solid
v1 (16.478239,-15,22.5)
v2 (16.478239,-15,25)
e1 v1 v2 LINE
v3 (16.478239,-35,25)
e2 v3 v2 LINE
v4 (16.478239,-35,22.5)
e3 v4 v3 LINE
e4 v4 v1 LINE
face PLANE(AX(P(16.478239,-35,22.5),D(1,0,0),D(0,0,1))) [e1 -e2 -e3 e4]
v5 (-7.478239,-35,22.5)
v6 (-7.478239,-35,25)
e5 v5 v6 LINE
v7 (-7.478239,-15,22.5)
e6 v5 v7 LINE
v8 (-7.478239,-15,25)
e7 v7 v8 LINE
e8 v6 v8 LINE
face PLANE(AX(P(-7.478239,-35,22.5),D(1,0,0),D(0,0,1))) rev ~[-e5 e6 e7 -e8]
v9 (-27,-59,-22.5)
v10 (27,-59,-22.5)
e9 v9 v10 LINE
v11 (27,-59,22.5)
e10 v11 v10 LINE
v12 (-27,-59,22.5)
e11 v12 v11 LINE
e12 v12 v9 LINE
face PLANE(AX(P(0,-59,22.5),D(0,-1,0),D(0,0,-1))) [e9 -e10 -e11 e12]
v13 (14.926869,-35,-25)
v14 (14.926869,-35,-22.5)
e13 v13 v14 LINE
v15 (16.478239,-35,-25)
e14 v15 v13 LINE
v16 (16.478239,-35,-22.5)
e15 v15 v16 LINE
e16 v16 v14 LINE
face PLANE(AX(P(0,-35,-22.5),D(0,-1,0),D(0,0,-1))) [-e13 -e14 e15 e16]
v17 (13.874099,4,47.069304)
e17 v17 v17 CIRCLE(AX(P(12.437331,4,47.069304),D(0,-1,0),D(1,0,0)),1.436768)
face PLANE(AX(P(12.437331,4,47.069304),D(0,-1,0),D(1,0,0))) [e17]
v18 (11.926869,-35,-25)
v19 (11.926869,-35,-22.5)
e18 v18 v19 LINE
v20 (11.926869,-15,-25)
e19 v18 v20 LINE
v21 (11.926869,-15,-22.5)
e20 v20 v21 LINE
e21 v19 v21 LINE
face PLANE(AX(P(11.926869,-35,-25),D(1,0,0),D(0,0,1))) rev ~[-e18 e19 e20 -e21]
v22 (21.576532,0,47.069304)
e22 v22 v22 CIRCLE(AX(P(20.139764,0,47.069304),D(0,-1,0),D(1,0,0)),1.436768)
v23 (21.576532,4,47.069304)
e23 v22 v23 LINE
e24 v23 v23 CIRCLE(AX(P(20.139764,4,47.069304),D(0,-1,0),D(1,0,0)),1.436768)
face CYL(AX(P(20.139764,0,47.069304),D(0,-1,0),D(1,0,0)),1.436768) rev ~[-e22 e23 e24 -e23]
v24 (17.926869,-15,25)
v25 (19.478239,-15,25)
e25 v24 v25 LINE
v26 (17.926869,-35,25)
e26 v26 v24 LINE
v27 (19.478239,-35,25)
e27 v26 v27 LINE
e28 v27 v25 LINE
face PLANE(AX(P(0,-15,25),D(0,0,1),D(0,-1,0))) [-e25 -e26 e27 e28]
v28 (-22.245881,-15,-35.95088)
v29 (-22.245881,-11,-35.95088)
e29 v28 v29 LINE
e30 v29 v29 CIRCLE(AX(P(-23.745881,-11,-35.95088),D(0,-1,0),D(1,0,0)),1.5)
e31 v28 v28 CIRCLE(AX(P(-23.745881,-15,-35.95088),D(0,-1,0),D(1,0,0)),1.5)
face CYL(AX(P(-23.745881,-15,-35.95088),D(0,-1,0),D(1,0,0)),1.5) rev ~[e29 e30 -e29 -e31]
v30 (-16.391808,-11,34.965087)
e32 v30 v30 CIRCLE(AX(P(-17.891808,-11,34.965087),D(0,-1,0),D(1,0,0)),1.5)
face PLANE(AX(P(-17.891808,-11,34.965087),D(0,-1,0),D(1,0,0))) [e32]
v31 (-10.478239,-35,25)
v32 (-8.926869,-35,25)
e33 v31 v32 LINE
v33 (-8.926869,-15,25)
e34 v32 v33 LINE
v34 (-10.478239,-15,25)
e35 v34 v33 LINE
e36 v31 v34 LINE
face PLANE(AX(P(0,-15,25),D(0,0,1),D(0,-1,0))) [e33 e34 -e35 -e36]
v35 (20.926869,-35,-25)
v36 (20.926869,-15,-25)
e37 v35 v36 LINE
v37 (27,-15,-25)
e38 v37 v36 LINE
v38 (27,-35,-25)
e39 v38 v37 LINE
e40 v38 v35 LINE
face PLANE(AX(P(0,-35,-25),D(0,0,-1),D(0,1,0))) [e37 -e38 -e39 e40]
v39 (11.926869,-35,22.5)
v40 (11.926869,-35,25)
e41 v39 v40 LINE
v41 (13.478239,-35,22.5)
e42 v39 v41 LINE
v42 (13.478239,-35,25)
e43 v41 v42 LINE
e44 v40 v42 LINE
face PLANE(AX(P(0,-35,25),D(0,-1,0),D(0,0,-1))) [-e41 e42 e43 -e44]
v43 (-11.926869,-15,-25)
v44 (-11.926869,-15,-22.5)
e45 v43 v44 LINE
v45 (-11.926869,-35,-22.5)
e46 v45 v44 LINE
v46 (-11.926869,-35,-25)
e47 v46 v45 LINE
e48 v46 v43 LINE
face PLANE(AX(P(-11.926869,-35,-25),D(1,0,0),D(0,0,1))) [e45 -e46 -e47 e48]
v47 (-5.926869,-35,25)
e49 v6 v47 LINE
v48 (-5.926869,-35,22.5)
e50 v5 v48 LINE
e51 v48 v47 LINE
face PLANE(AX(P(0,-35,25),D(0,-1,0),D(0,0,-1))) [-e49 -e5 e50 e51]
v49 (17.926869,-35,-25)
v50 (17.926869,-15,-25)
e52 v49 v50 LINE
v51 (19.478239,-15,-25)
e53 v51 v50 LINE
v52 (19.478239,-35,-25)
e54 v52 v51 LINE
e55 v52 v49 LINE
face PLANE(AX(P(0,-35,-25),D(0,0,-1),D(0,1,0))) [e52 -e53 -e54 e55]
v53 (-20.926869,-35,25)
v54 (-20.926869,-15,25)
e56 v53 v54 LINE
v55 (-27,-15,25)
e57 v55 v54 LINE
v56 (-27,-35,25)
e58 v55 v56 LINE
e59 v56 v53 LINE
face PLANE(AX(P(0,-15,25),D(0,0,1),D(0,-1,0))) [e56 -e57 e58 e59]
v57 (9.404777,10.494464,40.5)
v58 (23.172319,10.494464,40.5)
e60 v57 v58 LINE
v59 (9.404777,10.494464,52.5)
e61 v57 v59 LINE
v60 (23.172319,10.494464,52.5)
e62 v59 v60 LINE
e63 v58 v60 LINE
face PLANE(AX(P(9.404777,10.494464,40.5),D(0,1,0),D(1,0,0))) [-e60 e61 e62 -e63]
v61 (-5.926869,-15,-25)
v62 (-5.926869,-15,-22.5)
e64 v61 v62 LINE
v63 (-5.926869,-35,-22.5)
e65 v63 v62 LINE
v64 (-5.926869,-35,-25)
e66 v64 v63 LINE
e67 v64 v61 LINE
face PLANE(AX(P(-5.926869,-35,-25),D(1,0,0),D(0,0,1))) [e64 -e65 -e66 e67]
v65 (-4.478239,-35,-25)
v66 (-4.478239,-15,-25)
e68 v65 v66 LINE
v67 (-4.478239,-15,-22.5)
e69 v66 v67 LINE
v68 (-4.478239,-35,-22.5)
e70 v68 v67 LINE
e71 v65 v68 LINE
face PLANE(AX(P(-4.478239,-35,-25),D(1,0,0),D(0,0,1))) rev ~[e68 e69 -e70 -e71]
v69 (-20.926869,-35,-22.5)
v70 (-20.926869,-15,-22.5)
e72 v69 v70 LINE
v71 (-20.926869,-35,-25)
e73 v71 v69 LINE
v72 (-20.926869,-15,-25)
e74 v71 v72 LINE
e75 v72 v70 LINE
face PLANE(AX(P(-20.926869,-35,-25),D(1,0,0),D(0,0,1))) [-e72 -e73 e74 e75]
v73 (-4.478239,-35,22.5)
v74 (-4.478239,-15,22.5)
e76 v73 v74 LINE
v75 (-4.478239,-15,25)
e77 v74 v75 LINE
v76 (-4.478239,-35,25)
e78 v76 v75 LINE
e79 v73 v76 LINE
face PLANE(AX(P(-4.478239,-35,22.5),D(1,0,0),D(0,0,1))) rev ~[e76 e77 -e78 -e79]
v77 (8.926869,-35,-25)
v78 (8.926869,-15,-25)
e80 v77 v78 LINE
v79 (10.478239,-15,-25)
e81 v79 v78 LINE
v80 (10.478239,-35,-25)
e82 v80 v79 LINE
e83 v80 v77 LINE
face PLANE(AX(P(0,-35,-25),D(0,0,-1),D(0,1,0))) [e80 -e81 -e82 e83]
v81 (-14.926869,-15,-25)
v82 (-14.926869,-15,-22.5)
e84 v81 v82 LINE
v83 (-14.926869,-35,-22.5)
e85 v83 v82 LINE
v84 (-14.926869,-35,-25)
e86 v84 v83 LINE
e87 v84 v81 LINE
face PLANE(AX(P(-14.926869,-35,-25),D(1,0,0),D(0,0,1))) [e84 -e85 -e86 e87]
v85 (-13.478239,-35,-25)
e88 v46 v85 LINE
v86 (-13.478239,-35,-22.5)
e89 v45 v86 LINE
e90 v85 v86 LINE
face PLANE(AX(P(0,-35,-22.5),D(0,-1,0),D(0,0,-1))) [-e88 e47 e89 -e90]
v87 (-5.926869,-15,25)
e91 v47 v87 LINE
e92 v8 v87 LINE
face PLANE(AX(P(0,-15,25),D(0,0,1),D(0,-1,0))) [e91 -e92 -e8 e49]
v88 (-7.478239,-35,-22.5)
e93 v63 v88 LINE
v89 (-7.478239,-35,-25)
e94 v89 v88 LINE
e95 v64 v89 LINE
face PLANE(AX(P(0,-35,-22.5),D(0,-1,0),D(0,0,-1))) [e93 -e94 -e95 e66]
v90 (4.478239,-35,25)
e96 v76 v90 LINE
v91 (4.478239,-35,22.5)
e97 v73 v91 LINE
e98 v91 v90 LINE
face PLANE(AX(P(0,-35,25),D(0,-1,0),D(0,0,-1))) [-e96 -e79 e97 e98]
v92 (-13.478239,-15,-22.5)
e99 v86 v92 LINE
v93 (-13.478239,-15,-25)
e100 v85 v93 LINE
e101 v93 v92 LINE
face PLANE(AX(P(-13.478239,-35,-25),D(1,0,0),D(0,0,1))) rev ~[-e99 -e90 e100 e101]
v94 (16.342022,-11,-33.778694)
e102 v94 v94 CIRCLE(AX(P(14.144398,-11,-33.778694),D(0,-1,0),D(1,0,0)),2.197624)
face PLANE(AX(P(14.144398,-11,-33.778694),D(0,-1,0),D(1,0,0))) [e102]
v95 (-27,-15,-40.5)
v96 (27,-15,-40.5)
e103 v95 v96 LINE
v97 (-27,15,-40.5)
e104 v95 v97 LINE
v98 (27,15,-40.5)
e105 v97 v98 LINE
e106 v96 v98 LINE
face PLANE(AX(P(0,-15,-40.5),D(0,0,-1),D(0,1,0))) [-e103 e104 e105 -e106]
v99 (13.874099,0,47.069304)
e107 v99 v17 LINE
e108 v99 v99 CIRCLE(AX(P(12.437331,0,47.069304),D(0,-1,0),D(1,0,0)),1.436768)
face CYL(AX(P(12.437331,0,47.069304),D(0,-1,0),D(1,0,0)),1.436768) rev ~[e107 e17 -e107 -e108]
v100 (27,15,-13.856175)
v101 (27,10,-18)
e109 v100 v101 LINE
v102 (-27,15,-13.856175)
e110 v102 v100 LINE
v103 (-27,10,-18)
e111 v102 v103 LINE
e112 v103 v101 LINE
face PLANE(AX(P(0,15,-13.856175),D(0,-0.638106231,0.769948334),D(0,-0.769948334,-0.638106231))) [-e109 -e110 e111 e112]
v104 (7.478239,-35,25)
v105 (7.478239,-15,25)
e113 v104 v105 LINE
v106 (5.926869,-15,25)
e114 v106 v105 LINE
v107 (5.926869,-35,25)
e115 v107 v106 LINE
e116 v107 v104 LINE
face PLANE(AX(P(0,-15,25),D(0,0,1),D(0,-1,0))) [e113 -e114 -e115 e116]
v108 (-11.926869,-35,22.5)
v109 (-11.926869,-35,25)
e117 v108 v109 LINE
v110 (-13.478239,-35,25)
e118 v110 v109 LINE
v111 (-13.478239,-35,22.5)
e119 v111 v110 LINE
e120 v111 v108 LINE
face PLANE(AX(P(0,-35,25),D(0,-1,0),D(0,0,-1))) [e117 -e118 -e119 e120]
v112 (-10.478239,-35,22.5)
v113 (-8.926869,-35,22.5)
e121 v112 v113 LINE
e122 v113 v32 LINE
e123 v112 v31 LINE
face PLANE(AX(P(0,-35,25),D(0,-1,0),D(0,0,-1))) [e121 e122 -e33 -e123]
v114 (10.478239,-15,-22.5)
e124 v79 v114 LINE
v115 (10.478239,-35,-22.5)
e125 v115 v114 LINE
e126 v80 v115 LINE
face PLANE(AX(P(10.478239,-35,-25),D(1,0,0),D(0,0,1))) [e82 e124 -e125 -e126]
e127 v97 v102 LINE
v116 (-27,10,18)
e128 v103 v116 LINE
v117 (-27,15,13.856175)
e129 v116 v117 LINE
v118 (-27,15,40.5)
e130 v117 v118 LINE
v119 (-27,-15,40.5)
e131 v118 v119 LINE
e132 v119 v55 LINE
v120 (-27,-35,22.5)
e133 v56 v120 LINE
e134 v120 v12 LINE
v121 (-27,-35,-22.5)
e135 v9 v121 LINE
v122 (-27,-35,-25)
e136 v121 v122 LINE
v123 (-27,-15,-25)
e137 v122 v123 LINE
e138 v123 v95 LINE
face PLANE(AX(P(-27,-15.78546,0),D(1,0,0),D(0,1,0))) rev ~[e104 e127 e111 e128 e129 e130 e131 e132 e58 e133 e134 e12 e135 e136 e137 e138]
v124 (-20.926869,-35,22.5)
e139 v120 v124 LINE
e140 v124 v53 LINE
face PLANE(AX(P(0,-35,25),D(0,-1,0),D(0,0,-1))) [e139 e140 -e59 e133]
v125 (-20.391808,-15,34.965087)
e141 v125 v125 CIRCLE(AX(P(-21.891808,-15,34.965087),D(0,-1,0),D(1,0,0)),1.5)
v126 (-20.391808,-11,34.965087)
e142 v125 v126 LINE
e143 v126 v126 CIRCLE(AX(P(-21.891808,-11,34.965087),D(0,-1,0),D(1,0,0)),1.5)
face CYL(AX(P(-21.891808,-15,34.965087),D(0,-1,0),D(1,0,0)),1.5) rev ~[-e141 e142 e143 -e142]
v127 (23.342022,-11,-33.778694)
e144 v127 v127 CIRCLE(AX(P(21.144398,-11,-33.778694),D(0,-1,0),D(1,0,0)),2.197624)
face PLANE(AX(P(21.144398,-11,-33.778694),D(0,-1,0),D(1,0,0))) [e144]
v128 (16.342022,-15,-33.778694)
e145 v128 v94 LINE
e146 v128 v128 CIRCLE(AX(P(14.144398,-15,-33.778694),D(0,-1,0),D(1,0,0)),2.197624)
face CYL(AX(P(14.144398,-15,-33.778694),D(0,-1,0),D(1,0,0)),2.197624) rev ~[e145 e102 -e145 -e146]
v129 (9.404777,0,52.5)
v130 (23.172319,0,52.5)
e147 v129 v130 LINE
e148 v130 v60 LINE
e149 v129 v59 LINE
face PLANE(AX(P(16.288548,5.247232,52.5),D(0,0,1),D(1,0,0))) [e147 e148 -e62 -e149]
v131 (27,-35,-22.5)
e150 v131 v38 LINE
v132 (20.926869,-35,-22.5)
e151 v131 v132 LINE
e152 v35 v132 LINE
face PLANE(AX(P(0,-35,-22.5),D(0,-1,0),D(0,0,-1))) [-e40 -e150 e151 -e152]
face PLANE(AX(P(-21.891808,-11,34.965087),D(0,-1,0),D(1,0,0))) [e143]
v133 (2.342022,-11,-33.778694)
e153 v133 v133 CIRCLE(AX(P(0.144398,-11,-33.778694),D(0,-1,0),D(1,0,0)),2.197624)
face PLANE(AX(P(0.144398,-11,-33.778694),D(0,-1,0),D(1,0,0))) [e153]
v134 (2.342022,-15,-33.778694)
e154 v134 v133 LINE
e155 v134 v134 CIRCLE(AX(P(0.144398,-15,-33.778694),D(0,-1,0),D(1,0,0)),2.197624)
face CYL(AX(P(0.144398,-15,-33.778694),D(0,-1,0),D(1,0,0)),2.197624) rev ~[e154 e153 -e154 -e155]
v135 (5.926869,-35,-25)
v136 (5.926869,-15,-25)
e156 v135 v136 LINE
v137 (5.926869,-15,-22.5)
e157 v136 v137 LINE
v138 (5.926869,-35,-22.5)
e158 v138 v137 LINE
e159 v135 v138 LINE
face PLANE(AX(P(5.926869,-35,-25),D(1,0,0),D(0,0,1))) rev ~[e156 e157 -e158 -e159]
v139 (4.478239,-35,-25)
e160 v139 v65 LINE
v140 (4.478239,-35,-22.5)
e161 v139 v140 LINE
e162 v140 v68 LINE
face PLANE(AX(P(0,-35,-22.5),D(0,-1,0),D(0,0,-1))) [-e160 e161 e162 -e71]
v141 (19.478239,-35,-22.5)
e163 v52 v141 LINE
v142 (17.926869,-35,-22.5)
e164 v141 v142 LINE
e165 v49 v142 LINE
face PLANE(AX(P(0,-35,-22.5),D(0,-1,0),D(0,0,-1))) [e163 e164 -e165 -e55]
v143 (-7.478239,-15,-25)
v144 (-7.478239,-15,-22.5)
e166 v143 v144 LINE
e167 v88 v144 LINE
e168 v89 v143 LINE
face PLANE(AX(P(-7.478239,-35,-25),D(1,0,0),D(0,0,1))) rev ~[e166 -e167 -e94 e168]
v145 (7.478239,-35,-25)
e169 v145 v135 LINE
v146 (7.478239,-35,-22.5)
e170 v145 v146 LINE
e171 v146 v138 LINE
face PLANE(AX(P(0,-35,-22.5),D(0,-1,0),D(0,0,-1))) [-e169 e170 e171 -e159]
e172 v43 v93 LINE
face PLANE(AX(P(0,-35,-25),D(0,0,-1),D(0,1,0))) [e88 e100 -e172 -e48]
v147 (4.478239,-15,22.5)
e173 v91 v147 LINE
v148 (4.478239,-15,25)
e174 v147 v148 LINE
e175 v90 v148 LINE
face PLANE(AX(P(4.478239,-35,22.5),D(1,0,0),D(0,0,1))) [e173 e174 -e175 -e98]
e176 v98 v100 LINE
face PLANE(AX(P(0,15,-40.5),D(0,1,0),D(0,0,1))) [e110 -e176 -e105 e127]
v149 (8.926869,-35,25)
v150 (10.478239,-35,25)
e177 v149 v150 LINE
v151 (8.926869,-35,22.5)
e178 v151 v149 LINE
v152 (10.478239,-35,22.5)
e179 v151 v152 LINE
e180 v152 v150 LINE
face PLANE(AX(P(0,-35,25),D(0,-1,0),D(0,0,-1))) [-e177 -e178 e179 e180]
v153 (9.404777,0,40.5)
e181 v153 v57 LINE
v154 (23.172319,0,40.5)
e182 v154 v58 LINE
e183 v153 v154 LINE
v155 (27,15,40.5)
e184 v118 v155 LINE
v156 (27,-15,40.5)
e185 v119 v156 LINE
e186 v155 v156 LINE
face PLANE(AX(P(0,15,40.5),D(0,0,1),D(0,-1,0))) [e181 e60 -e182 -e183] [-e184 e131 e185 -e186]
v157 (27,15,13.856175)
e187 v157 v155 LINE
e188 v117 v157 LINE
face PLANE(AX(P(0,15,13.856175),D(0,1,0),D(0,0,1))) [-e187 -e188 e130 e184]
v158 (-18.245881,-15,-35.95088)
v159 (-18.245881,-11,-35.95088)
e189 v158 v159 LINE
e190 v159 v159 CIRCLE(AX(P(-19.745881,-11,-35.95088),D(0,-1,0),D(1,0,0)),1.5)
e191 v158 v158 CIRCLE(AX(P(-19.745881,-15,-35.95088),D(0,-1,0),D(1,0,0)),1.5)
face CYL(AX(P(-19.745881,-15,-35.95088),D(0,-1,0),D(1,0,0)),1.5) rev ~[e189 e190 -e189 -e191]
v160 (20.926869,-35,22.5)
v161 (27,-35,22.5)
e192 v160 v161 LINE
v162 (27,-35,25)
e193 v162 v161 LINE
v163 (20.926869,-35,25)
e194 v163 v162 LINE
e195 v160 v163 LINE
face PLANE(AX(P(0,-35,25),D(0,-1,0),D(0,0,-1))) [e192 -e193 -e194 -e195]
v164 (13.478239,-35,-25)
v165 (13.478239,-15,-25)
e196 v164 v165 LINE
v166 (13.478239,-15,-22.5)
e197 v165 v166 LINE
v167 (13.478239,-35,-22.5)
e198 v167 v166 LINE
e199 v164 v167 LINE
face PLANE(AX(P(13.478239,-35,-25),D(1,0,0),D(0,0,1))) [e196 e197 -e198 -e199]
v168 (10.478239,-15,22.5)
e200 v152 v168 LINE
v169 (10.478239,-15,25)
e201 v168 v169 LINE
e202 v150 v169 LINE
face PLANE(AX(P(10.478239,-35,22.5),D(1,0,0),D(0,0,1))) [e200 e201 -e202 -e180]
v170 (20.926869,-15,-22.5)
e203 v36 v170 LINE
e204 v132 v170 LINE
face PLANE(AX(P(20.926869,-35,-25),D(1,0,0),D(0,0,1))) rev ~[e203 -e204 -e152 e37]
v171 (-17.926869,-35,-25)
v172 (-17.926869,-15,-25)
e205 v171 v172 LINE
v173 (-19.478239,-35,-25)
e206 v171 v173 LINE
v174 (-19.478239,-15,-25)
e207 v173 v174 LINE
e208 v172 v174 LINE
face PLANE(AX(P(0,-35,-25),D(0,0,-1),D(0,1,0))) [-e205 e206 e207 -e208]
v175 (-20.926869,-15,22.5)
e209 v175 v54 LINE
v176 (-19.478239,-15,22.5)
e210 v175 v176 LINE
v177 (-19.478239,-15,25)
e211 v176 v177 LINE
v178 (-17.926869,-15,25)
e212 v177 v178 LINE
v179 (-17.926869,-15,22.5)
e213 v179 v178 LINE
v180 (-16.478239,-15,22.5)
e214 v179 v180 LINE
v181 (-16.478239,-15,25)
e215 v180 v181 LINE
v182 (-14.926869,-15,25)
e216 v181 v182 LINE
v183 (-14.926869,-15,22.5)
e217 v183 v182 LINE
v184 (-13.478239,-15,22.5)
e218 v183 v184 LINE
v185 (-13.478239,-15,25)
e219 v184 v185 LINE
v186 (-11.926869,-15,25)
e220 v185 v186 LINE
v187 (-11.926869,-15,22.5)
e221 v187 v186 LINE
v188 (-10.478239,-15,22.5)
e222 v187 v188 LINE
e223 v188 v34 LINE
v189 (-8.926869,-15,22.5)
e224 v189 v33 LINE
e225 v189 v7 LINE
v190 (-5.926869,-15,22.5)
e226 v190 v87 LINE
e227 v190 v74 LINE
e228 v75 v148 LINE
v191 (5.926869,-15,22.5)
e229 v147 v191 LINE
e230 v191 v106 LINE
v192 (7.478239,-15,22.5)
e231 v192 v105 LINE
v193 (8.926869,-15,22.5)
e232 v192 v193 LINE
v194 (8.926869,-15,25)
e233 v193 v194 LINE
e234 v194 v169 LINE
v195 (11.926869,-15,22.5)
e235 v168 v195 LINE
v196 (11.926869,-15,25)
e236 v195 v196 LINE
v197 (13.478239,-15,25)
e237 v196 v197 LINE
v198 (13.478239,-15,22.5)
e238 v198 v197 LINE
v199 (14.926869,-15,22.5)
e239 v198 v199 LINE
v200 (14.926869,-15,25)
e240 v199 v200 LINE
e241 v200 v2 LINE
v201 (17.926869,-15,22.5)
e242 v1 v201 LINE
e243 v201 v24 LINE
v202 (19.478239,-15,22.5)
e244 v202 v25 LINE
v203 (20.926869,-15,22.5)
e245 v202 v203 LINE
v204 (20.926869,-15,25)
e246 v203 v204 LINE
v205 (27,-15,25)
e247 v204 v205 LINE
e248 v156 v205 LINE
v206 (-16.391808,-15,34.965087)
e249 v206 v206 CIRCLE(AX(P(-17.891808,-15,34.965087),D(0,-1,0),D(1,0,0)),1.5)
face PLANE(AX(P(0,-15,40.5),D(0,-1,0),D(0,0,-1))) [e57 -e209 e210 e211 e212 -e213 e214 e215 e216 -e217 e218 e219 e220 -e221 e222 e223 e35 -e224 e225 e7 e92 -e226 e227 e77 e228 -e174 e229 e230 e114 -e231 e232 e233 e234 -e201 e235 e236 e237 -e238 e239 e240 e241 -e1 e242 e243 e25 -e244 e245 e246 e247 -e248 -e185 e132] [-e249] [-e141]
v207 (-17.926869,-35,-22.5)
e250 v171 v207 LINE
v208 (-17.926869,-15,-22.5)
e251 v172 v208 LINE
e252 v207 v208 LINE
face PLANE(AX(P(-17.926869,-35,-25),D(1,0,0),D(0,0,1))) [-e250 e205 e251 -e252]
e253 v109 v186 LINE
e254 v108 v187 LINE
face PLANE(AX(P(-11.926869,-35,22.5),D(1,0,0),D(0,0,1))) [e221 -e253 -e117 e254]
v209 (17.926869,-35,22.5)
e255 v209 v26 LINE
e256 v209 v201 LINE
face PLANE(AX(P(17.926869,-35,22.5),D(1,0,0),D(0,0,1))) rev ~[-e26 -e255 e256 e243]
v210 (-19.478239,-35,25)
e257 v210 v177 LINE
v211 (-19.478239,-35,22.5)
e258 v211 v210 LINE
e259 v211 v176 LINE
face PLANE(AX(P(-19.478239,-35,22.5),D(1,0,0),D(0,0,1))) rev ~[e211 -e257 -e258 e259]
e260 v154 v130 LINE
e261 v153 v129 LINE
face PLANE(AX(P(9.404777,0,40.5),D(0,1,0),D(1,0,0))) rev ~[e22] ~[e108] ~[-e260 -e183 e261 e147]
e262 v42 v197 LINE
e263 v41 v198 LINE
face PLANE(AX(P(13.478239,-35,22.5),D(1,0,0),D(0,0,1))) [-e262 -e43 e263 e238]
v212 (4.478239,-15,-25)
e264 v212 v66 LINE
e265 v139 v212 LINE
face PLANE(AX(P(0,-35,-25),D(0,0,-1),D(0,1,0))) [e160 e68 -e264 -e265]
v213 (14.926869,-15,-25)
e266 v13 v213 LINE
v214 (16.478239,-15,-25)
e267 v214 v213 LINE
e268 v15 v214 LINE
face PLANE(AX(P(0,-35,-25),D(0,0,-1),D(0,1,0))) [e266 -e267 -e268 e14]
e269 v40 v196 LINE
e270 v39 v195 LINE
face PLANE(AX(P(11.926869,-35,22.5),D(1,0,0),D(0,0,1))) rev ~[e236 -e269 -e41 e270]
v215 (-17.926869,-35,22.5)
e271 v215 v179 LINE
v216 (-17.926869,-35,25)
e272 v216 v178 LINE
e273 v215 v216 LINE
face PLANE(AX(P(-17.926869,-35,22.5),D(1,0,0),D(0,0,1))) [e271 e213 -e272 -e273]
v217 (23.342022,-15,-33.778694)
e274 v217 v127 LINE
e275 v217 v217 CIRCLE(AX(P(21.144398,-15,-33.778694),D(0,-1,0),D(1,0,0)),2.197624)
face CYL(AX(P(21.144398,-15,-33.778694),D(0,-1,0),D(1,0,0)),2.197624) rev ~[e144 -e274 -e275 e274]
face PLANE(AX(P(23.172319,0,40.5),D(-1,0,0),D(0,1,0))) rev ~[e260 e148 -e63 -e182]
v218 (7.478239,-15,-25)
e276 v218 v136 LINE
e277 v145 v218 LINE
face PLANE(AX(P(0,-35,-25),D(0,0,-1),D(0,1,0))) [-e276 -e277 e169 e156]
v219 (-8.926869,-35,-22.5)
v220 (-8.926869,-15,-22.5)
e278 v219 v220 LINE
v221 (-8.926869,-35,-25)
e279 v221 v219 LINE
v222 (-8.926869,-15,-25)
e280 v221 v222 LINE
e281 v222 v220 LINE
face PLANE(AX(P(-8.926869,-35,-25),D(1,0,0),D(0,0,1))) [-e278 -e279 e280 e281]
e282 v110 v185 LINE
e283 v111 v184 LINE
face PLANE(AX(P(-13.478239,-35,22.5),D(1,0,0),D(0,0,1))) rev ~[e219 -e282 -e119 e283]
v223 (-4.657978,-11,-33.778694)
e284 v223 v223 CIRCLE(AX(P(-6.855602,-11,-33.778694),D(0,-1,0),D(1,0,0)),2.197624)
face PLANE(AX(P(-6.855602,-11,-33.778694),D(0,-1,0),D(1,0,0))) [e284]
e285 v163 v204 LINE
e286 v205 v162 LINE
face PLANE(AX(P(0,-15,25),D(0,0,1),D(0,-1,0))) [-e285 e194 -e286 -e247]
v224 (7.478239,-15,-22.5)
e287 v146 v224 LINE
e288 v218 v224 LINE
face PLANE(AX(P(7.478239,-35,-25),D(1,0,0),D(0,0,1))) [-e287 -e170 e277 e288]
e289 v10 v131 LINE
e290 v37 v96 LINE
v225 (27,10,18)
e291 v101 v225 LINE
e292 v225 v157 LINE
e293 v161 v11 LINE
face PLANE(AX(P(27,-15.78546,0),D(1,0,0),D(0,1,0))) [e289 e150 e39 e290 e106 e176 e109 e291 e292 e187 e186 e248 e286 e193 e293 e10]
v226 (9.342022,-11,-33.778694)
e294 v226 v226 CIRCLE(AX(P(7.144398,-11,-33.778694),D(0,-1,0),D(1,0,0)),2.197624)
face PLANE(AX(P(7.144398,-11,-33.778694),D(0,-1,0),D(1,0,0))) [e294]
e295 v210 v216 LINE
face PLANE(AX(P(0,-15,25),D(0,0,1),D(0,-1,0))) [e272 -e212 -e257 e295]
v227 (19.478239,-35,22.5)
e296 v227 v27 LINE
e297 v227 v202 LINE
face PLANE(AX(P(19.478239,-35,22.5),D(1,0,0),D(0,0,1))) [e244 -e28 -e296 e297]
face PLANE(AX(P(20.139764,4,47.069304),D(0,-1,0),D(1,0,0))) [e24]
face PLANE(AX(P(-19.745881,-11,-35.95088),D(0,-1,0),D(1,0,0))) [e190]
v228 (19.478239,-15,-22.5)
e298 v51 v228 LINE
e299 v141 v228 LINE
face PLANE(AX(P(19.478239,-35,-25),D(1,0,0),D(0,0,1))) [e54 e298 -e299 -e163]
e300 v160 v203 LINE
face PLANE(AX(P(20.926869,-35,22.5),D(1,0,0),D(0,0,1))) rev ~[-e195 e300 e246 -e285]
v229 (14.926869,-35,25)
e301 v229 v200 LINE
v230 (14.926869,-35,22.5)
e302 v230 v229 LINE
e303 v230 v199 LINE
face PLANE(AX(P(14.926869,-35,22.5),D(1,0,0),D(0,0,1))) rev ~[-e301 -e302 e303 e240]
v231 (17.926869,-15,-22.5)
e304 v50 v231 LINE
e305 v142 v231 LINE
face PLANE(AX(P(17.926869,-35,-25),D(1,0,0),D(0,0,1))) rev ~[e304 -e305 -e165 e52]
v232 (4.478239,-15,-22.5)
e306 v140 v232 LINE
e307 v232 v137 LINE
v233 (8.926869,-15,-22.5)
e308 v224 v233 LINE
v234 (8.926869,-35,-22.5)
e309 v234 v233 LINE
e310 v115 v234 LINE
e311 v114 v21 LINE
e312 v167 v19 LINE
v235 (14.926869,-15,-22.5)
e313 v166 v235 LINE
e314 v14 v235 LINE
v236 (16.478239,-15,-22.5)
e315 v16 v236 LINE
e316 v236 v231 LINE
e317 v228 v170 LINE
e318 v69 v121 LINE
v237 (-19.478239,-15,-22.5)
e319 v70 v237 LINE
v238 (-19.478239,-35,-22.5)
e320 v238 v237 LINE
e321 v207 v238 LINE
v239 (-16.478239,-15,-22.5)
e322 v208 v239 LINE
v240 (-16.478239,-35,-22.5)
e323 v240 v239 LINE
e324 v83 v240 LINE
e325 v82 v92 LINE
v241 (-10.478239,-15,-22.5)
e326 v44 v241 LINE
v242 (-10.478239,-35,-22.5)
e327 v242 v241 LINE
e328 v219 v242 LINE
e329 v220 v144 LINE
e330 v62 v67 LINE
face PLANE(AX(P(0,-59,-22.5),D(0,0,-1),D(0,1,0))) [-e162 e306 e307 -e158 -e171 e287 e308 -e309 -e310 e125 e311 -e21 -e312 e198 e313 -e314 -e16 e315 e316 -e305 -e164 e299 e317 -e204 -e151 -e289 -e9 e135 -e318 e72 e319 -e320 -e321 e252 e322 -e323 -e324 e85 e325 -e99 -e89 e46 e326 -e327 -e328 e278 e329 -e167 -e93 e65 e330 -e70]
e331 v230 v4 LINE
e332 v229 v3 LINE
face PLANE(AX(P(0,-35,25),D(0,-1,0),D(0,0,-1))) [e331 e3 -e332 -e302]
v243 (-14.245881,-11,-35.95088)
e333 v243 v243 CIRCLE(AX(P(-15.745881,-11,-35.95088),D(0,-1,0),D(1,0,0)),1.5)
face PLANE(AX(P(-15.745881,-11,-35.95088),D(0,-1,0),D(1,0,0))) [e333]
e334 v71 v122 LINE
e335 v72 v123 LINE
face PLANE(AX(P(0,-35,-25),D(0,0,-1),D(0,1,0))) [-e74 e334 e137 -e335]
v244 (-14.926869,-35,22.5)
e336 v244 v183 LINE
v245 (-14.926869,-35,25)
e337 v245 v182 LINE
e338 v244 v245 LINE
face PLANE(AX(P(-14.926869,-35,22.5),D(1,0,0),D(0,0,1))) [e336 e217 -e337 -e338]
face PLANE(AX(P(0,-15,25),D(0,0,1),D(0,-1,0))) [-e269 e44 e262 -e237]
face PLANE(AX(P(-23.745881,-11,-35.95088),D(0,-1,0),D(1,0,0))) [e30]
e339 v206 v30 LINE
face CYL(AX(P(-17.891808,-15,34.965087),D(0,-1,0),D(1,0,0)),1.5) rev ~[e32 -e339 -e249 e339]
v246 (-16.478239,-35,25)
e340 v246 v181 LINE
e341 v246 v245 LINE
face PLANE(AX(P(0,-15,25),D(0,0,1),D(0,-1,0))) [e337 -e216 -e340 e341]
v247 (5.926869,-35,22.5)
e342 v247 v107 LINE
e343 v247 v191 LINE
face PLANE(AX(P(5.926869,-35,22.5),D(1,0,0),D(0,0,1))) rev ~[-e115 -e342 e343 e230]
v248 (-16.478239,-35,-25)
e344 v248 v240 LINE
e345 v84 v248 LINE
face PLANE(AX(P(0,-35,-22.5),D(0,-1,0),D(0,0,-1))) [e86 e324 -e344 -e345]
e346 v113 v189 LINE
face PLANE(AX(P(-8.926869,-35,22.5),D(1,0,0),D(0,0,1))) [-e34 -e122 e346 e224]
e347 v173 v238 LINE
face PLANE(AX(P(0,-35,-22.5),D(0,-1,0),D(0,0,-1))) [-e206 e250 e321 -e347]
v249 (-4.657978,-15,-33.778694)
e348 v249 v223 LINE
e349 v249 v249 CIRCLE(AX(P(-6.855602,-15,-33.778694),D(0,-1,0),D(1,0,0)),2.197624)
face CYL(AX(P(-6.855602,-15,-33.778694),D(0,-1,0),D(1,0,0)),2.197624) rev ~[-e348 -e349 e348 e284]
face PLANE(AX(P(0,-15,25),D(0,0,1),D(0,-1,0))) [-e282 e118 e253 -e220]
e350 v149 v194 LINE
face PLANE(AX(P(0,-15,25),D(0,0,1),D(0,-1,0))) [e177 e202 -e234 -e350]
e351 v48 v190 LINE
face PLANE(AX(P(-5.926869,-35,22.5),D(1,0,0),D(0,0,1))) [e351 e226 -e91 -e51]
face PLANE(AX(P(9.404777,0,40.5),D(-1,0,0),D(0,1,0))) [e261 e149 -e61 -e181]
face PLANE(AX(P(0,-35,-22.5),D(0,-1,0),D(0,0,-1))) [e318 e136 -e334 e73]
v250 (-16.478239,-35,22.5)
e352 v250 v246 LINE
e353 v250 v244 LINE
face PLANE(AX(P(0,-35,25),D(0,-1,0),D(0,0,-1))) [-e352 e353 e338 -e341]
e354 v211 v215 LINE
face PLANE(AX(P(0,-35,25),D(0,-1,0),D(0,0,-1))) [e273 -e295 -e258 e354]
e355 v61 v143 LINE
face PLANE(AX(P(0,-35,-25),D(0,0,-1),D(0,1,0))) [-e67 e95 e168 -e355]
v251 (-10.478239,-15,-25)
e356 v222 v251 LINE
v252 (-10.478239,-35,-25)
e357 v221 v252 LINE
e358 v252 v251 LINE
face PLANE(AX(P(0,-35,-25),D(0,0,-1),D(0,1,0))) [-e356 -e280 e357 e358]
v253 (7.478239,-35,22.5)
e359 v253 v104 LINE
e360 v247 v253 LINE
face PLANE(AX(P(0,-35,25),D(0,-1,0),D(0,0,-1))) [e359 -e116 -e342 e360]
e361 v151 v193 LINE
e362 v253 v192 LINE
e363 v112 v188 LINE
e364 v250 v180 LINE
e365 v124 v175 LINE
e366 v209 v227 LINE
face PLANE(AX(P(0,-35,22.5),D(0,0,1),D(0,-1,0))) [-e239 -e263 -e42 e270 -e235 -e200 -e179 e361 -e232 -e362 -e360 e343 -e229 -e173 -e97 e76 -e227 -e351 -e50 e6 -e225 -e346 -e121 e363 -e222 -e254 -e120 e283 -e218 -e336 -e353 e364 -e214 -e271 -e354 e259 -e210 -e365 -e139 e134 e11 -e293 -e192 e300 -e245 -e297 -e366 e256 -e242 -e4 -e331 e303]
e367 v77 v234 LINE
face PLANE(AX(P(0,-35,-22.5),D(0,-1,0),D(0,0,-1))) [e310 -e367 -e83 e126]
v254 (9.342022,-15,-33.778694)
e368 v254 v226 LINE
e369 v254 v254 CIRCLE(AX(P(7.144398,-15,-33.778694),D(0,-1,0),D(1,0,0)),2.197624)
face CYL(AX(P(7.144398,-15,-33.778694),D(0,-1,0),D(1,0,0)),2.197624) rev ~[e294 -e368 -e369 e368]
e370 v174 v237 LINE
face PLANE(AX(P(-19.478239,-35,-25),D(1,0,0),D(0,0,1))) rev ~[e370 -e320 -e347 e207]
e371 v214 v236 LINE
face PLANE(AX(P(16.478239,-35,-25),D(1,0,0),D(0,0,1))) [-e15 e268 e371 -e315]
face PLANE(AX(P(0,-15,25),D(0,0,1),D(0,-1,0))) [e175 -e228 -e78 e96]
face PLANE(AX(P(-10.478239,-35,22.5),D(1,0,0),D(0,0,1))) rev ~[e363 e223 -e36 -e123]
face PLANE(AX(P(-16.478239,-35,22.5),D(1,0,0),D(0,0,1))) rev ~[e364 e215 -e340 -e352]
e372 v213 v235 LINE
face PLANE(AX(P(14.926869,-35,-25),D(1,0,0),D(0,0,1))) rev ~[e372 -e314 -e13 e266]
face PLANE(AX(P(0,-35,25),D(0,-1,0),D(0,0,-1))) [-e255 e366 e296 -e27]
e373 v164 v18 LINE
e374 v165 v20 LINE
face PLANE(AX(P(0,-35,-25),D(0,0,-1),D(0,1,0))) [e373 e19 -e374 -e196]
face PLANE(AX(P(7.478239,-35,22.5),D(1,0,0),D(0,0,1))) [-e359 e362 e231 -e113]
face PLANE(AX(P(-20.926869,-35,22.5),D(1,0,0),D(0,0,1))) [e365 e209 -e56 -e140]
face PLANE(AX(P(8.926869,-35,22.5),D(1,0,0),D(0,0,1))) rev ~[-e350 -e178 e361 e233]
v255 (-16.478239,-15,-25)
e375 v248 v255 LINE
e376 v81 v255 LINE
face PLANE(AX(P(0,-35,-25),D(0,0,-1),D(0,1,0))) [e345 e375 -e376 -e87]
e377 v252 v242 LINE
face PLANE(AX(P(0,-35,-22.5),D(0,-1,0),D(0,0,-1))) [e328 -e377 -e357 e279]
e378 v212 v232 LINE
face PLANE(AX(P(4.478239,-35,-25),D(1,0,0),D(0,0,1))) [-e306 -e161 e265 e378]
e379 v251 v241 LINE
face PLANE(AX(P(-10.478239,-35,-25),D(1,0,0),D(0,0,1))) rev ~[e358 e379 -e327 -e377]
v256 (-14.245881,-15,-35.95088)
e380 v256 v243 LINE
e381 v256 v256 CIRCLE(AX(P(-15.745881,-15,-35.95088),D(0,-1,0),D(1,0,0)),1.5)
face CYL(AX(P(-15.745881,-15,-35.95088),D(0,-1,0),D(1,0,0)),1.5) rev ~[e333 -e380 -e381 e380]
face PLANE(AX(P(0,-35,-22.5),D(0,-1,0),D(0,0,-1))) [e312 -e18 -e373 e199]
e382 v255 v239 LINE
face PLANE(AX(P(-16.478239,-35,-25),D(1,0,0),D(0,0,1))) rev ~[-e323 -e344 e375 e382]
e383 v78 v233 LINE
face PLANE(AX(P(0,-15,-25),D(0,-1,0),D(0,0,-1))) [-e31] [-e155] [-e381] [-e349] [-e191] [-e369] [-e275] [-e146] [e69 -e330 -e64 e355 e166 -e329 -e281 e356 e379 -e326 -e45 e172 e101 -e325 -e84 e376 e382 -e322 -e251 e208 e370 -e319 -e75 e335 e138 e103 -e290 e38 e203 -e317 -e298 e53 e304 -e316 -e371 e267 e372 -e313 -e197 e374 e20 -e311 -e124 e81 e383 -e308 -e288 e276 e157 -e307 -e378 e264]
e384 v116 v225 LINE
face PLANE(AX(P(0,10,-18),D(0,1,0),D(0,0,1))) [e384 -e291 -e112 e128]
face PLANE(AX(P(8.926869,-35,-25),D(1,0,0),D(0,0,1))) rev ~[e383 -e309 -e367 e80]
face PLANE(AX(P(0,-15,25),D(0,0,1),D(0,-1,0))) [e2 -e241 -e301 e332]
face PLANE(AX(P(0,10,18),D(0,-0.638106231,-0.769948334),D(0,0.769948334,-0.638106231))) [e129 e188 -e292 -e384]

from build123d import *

# Parameters (mm, degrees)
F1_DEPTH = 27
F4_W     = 13.767542
F4_H     = 10.494464
F5_DEPTH = 12
F2_R     = 1.5
F2_R_2   = 2.197624
F6_R     = 1.436768
F3_R     = 1.5
F7_DEPTH = 4
F8_W     = 1.44863
F8_H     = 2.5
F9_DEPTH = 20


with BuildPart() as f1:
    # F0 (on Right) → F1 (new body, symmetric)
    with BuildSketch(Plane.YZ):
        Polygon((-15, -25), (-15, -40.5), (15, -40.5), (15, -13.856175), (10, -18), (10, 18), (15, 13.856175), (15, 40.5), (-15, 40.5), (-15, 25), (-35, 25), (-35, 22.5), (-59, 22.5), (-59, -22.5), (-35, -22.5), (-35, -25), align=None)
    extrude(amount=F1_DEPTH, both=True)

    # F4 (on face) → F5 (join)
    with BuildSketch(Plane.XY.offset(40.5)):
        with Locations((16.288548, 5.247232)):
            Rectangle(F4_W, F4_H)
    extrude(amount=F5_DEPTH)

    # F2 (on face) + F6 (on face) + F3 (on face) → F7 (cut)
    with BuildSketch(Plane.XZ.offset(15)):
        with Locations((-23.745881, -35.95088)):
            Circle(F2_R)
        with Locations((-19.745881, -35.95088)):
            Circle(F2_R)
        with Locations((-15.745881, -35.95088)):
            Circle(F2_R)
        with Locations((-6.855602, -33.778694)):
            Circle(F2_R_2)
        with Locations((0.144398, -33.778694)):
            Circle(F2_R_2)
        with Locations((7.144398, -33.778694)):
            Circle(F2_R_2)
        with Locations((14.144398, -33.778694)):
            Circle(F2_R_2)
        with Locations((21.144398, -33.778694)):
            Circle(F2_R_2)
    with BuildSketch(Plane.XZ):
        with Locations((12.437331, 47.069304)):
            Circle(F6_R)
        with Locations((20.139764, 47.069304)):
            Circle(F6_R)
    with BuildSketch(Plane.XZ.offset(15)):
        with Locations((-21.891808, 34.965087)):
            Circle(F3_R)
        with Locations((-17.891808, 34.965087)):
            Circle(F3_R)
    extrude(amount=-F7_DEPTH, mode=Mode.SUBTRACT)

    # F8 (on face) → F9 (cut, through all)
    with BuildSketch(Plane.XZ.offset(35)):
        with Locations((-5.202554, 23.75)):
            Rectangle(F8_W, F8_H)
        with Locations((-8.202554, 23.75)):
            Rectangle(F8_W, F8_H)
        with Locations((-11.202554, 23.75)):
            Rectangle(F8_W, F8_H)
        with Locations((-14.202554, 23.75)):
            Rectangle(F8_W, F8_H)
        with Locations((-17.202554, 23.75)):
            Rectangle(F8_W, F8_H)
        with Locations((-20.202554, 23.75)):
            Rectangle(F8_W, F8_H)
        with Locations((5.202554, 23.75)):
            Rectangle(F8_W, F8_H)
        with Locations((8.202554, 23.75)):
            Rectangle(F8_W, F8_H)
        with Locations((11.202554, 23.75)):
            Rectangle(F8_W, F8_H)
        with Locations((14.202554, 23.75)):
            Rectangle(F8_W, F8_H)
        with Locations((17.202554, 23.75)):
            Rectangle(F8_W, F8_H)
        with Locations((20.202554, 23.75)):
            Rectangle(F8_W, F8_H)
        with Locations((-20.202554, -23.75)):
            Rectangle(F8_W, F8_H)
        with Locations((-17.202554, -23.75)):
            Rectangle(F8_W, F8_H)
        with Locations((-14.202554, -23.75)):
            Rectangle(F8_W, F8_H)
        with Locations((-11.202554, -23.75)):
            Rectangle(F8_W, F8_H)
        with Locations((-8.202554, -23.75)):
            Rectangle(F8_W, F8_H)
        with Locations((-5.202554, -23.75)):
            Rectangle(F8_W, F8_H)
        with Locations((5.202554, -23.75)):
            Rectangle(F8_W, F8_H)
        with Locations((8.202554, -23.75)):
            Rectangle(F8_W, F8_H)
        with Locations((11.202554, -23.75)):
            Rectangle(F8_W, F8_H)
        with Locations((14.202554, -23.75)):
            Rectangle(F8_W, F8_H)
        with Locations((17.202554, -23.75)):
            Rectangle(F8_W, F8_H)
        with Locations((20.202554, -23.75)):
            Rectangle(F8_W, F8_H)
    extrude(amount=-F9_DEPTH, mode=Mode.SUBTRACT)


solid = f1.part
